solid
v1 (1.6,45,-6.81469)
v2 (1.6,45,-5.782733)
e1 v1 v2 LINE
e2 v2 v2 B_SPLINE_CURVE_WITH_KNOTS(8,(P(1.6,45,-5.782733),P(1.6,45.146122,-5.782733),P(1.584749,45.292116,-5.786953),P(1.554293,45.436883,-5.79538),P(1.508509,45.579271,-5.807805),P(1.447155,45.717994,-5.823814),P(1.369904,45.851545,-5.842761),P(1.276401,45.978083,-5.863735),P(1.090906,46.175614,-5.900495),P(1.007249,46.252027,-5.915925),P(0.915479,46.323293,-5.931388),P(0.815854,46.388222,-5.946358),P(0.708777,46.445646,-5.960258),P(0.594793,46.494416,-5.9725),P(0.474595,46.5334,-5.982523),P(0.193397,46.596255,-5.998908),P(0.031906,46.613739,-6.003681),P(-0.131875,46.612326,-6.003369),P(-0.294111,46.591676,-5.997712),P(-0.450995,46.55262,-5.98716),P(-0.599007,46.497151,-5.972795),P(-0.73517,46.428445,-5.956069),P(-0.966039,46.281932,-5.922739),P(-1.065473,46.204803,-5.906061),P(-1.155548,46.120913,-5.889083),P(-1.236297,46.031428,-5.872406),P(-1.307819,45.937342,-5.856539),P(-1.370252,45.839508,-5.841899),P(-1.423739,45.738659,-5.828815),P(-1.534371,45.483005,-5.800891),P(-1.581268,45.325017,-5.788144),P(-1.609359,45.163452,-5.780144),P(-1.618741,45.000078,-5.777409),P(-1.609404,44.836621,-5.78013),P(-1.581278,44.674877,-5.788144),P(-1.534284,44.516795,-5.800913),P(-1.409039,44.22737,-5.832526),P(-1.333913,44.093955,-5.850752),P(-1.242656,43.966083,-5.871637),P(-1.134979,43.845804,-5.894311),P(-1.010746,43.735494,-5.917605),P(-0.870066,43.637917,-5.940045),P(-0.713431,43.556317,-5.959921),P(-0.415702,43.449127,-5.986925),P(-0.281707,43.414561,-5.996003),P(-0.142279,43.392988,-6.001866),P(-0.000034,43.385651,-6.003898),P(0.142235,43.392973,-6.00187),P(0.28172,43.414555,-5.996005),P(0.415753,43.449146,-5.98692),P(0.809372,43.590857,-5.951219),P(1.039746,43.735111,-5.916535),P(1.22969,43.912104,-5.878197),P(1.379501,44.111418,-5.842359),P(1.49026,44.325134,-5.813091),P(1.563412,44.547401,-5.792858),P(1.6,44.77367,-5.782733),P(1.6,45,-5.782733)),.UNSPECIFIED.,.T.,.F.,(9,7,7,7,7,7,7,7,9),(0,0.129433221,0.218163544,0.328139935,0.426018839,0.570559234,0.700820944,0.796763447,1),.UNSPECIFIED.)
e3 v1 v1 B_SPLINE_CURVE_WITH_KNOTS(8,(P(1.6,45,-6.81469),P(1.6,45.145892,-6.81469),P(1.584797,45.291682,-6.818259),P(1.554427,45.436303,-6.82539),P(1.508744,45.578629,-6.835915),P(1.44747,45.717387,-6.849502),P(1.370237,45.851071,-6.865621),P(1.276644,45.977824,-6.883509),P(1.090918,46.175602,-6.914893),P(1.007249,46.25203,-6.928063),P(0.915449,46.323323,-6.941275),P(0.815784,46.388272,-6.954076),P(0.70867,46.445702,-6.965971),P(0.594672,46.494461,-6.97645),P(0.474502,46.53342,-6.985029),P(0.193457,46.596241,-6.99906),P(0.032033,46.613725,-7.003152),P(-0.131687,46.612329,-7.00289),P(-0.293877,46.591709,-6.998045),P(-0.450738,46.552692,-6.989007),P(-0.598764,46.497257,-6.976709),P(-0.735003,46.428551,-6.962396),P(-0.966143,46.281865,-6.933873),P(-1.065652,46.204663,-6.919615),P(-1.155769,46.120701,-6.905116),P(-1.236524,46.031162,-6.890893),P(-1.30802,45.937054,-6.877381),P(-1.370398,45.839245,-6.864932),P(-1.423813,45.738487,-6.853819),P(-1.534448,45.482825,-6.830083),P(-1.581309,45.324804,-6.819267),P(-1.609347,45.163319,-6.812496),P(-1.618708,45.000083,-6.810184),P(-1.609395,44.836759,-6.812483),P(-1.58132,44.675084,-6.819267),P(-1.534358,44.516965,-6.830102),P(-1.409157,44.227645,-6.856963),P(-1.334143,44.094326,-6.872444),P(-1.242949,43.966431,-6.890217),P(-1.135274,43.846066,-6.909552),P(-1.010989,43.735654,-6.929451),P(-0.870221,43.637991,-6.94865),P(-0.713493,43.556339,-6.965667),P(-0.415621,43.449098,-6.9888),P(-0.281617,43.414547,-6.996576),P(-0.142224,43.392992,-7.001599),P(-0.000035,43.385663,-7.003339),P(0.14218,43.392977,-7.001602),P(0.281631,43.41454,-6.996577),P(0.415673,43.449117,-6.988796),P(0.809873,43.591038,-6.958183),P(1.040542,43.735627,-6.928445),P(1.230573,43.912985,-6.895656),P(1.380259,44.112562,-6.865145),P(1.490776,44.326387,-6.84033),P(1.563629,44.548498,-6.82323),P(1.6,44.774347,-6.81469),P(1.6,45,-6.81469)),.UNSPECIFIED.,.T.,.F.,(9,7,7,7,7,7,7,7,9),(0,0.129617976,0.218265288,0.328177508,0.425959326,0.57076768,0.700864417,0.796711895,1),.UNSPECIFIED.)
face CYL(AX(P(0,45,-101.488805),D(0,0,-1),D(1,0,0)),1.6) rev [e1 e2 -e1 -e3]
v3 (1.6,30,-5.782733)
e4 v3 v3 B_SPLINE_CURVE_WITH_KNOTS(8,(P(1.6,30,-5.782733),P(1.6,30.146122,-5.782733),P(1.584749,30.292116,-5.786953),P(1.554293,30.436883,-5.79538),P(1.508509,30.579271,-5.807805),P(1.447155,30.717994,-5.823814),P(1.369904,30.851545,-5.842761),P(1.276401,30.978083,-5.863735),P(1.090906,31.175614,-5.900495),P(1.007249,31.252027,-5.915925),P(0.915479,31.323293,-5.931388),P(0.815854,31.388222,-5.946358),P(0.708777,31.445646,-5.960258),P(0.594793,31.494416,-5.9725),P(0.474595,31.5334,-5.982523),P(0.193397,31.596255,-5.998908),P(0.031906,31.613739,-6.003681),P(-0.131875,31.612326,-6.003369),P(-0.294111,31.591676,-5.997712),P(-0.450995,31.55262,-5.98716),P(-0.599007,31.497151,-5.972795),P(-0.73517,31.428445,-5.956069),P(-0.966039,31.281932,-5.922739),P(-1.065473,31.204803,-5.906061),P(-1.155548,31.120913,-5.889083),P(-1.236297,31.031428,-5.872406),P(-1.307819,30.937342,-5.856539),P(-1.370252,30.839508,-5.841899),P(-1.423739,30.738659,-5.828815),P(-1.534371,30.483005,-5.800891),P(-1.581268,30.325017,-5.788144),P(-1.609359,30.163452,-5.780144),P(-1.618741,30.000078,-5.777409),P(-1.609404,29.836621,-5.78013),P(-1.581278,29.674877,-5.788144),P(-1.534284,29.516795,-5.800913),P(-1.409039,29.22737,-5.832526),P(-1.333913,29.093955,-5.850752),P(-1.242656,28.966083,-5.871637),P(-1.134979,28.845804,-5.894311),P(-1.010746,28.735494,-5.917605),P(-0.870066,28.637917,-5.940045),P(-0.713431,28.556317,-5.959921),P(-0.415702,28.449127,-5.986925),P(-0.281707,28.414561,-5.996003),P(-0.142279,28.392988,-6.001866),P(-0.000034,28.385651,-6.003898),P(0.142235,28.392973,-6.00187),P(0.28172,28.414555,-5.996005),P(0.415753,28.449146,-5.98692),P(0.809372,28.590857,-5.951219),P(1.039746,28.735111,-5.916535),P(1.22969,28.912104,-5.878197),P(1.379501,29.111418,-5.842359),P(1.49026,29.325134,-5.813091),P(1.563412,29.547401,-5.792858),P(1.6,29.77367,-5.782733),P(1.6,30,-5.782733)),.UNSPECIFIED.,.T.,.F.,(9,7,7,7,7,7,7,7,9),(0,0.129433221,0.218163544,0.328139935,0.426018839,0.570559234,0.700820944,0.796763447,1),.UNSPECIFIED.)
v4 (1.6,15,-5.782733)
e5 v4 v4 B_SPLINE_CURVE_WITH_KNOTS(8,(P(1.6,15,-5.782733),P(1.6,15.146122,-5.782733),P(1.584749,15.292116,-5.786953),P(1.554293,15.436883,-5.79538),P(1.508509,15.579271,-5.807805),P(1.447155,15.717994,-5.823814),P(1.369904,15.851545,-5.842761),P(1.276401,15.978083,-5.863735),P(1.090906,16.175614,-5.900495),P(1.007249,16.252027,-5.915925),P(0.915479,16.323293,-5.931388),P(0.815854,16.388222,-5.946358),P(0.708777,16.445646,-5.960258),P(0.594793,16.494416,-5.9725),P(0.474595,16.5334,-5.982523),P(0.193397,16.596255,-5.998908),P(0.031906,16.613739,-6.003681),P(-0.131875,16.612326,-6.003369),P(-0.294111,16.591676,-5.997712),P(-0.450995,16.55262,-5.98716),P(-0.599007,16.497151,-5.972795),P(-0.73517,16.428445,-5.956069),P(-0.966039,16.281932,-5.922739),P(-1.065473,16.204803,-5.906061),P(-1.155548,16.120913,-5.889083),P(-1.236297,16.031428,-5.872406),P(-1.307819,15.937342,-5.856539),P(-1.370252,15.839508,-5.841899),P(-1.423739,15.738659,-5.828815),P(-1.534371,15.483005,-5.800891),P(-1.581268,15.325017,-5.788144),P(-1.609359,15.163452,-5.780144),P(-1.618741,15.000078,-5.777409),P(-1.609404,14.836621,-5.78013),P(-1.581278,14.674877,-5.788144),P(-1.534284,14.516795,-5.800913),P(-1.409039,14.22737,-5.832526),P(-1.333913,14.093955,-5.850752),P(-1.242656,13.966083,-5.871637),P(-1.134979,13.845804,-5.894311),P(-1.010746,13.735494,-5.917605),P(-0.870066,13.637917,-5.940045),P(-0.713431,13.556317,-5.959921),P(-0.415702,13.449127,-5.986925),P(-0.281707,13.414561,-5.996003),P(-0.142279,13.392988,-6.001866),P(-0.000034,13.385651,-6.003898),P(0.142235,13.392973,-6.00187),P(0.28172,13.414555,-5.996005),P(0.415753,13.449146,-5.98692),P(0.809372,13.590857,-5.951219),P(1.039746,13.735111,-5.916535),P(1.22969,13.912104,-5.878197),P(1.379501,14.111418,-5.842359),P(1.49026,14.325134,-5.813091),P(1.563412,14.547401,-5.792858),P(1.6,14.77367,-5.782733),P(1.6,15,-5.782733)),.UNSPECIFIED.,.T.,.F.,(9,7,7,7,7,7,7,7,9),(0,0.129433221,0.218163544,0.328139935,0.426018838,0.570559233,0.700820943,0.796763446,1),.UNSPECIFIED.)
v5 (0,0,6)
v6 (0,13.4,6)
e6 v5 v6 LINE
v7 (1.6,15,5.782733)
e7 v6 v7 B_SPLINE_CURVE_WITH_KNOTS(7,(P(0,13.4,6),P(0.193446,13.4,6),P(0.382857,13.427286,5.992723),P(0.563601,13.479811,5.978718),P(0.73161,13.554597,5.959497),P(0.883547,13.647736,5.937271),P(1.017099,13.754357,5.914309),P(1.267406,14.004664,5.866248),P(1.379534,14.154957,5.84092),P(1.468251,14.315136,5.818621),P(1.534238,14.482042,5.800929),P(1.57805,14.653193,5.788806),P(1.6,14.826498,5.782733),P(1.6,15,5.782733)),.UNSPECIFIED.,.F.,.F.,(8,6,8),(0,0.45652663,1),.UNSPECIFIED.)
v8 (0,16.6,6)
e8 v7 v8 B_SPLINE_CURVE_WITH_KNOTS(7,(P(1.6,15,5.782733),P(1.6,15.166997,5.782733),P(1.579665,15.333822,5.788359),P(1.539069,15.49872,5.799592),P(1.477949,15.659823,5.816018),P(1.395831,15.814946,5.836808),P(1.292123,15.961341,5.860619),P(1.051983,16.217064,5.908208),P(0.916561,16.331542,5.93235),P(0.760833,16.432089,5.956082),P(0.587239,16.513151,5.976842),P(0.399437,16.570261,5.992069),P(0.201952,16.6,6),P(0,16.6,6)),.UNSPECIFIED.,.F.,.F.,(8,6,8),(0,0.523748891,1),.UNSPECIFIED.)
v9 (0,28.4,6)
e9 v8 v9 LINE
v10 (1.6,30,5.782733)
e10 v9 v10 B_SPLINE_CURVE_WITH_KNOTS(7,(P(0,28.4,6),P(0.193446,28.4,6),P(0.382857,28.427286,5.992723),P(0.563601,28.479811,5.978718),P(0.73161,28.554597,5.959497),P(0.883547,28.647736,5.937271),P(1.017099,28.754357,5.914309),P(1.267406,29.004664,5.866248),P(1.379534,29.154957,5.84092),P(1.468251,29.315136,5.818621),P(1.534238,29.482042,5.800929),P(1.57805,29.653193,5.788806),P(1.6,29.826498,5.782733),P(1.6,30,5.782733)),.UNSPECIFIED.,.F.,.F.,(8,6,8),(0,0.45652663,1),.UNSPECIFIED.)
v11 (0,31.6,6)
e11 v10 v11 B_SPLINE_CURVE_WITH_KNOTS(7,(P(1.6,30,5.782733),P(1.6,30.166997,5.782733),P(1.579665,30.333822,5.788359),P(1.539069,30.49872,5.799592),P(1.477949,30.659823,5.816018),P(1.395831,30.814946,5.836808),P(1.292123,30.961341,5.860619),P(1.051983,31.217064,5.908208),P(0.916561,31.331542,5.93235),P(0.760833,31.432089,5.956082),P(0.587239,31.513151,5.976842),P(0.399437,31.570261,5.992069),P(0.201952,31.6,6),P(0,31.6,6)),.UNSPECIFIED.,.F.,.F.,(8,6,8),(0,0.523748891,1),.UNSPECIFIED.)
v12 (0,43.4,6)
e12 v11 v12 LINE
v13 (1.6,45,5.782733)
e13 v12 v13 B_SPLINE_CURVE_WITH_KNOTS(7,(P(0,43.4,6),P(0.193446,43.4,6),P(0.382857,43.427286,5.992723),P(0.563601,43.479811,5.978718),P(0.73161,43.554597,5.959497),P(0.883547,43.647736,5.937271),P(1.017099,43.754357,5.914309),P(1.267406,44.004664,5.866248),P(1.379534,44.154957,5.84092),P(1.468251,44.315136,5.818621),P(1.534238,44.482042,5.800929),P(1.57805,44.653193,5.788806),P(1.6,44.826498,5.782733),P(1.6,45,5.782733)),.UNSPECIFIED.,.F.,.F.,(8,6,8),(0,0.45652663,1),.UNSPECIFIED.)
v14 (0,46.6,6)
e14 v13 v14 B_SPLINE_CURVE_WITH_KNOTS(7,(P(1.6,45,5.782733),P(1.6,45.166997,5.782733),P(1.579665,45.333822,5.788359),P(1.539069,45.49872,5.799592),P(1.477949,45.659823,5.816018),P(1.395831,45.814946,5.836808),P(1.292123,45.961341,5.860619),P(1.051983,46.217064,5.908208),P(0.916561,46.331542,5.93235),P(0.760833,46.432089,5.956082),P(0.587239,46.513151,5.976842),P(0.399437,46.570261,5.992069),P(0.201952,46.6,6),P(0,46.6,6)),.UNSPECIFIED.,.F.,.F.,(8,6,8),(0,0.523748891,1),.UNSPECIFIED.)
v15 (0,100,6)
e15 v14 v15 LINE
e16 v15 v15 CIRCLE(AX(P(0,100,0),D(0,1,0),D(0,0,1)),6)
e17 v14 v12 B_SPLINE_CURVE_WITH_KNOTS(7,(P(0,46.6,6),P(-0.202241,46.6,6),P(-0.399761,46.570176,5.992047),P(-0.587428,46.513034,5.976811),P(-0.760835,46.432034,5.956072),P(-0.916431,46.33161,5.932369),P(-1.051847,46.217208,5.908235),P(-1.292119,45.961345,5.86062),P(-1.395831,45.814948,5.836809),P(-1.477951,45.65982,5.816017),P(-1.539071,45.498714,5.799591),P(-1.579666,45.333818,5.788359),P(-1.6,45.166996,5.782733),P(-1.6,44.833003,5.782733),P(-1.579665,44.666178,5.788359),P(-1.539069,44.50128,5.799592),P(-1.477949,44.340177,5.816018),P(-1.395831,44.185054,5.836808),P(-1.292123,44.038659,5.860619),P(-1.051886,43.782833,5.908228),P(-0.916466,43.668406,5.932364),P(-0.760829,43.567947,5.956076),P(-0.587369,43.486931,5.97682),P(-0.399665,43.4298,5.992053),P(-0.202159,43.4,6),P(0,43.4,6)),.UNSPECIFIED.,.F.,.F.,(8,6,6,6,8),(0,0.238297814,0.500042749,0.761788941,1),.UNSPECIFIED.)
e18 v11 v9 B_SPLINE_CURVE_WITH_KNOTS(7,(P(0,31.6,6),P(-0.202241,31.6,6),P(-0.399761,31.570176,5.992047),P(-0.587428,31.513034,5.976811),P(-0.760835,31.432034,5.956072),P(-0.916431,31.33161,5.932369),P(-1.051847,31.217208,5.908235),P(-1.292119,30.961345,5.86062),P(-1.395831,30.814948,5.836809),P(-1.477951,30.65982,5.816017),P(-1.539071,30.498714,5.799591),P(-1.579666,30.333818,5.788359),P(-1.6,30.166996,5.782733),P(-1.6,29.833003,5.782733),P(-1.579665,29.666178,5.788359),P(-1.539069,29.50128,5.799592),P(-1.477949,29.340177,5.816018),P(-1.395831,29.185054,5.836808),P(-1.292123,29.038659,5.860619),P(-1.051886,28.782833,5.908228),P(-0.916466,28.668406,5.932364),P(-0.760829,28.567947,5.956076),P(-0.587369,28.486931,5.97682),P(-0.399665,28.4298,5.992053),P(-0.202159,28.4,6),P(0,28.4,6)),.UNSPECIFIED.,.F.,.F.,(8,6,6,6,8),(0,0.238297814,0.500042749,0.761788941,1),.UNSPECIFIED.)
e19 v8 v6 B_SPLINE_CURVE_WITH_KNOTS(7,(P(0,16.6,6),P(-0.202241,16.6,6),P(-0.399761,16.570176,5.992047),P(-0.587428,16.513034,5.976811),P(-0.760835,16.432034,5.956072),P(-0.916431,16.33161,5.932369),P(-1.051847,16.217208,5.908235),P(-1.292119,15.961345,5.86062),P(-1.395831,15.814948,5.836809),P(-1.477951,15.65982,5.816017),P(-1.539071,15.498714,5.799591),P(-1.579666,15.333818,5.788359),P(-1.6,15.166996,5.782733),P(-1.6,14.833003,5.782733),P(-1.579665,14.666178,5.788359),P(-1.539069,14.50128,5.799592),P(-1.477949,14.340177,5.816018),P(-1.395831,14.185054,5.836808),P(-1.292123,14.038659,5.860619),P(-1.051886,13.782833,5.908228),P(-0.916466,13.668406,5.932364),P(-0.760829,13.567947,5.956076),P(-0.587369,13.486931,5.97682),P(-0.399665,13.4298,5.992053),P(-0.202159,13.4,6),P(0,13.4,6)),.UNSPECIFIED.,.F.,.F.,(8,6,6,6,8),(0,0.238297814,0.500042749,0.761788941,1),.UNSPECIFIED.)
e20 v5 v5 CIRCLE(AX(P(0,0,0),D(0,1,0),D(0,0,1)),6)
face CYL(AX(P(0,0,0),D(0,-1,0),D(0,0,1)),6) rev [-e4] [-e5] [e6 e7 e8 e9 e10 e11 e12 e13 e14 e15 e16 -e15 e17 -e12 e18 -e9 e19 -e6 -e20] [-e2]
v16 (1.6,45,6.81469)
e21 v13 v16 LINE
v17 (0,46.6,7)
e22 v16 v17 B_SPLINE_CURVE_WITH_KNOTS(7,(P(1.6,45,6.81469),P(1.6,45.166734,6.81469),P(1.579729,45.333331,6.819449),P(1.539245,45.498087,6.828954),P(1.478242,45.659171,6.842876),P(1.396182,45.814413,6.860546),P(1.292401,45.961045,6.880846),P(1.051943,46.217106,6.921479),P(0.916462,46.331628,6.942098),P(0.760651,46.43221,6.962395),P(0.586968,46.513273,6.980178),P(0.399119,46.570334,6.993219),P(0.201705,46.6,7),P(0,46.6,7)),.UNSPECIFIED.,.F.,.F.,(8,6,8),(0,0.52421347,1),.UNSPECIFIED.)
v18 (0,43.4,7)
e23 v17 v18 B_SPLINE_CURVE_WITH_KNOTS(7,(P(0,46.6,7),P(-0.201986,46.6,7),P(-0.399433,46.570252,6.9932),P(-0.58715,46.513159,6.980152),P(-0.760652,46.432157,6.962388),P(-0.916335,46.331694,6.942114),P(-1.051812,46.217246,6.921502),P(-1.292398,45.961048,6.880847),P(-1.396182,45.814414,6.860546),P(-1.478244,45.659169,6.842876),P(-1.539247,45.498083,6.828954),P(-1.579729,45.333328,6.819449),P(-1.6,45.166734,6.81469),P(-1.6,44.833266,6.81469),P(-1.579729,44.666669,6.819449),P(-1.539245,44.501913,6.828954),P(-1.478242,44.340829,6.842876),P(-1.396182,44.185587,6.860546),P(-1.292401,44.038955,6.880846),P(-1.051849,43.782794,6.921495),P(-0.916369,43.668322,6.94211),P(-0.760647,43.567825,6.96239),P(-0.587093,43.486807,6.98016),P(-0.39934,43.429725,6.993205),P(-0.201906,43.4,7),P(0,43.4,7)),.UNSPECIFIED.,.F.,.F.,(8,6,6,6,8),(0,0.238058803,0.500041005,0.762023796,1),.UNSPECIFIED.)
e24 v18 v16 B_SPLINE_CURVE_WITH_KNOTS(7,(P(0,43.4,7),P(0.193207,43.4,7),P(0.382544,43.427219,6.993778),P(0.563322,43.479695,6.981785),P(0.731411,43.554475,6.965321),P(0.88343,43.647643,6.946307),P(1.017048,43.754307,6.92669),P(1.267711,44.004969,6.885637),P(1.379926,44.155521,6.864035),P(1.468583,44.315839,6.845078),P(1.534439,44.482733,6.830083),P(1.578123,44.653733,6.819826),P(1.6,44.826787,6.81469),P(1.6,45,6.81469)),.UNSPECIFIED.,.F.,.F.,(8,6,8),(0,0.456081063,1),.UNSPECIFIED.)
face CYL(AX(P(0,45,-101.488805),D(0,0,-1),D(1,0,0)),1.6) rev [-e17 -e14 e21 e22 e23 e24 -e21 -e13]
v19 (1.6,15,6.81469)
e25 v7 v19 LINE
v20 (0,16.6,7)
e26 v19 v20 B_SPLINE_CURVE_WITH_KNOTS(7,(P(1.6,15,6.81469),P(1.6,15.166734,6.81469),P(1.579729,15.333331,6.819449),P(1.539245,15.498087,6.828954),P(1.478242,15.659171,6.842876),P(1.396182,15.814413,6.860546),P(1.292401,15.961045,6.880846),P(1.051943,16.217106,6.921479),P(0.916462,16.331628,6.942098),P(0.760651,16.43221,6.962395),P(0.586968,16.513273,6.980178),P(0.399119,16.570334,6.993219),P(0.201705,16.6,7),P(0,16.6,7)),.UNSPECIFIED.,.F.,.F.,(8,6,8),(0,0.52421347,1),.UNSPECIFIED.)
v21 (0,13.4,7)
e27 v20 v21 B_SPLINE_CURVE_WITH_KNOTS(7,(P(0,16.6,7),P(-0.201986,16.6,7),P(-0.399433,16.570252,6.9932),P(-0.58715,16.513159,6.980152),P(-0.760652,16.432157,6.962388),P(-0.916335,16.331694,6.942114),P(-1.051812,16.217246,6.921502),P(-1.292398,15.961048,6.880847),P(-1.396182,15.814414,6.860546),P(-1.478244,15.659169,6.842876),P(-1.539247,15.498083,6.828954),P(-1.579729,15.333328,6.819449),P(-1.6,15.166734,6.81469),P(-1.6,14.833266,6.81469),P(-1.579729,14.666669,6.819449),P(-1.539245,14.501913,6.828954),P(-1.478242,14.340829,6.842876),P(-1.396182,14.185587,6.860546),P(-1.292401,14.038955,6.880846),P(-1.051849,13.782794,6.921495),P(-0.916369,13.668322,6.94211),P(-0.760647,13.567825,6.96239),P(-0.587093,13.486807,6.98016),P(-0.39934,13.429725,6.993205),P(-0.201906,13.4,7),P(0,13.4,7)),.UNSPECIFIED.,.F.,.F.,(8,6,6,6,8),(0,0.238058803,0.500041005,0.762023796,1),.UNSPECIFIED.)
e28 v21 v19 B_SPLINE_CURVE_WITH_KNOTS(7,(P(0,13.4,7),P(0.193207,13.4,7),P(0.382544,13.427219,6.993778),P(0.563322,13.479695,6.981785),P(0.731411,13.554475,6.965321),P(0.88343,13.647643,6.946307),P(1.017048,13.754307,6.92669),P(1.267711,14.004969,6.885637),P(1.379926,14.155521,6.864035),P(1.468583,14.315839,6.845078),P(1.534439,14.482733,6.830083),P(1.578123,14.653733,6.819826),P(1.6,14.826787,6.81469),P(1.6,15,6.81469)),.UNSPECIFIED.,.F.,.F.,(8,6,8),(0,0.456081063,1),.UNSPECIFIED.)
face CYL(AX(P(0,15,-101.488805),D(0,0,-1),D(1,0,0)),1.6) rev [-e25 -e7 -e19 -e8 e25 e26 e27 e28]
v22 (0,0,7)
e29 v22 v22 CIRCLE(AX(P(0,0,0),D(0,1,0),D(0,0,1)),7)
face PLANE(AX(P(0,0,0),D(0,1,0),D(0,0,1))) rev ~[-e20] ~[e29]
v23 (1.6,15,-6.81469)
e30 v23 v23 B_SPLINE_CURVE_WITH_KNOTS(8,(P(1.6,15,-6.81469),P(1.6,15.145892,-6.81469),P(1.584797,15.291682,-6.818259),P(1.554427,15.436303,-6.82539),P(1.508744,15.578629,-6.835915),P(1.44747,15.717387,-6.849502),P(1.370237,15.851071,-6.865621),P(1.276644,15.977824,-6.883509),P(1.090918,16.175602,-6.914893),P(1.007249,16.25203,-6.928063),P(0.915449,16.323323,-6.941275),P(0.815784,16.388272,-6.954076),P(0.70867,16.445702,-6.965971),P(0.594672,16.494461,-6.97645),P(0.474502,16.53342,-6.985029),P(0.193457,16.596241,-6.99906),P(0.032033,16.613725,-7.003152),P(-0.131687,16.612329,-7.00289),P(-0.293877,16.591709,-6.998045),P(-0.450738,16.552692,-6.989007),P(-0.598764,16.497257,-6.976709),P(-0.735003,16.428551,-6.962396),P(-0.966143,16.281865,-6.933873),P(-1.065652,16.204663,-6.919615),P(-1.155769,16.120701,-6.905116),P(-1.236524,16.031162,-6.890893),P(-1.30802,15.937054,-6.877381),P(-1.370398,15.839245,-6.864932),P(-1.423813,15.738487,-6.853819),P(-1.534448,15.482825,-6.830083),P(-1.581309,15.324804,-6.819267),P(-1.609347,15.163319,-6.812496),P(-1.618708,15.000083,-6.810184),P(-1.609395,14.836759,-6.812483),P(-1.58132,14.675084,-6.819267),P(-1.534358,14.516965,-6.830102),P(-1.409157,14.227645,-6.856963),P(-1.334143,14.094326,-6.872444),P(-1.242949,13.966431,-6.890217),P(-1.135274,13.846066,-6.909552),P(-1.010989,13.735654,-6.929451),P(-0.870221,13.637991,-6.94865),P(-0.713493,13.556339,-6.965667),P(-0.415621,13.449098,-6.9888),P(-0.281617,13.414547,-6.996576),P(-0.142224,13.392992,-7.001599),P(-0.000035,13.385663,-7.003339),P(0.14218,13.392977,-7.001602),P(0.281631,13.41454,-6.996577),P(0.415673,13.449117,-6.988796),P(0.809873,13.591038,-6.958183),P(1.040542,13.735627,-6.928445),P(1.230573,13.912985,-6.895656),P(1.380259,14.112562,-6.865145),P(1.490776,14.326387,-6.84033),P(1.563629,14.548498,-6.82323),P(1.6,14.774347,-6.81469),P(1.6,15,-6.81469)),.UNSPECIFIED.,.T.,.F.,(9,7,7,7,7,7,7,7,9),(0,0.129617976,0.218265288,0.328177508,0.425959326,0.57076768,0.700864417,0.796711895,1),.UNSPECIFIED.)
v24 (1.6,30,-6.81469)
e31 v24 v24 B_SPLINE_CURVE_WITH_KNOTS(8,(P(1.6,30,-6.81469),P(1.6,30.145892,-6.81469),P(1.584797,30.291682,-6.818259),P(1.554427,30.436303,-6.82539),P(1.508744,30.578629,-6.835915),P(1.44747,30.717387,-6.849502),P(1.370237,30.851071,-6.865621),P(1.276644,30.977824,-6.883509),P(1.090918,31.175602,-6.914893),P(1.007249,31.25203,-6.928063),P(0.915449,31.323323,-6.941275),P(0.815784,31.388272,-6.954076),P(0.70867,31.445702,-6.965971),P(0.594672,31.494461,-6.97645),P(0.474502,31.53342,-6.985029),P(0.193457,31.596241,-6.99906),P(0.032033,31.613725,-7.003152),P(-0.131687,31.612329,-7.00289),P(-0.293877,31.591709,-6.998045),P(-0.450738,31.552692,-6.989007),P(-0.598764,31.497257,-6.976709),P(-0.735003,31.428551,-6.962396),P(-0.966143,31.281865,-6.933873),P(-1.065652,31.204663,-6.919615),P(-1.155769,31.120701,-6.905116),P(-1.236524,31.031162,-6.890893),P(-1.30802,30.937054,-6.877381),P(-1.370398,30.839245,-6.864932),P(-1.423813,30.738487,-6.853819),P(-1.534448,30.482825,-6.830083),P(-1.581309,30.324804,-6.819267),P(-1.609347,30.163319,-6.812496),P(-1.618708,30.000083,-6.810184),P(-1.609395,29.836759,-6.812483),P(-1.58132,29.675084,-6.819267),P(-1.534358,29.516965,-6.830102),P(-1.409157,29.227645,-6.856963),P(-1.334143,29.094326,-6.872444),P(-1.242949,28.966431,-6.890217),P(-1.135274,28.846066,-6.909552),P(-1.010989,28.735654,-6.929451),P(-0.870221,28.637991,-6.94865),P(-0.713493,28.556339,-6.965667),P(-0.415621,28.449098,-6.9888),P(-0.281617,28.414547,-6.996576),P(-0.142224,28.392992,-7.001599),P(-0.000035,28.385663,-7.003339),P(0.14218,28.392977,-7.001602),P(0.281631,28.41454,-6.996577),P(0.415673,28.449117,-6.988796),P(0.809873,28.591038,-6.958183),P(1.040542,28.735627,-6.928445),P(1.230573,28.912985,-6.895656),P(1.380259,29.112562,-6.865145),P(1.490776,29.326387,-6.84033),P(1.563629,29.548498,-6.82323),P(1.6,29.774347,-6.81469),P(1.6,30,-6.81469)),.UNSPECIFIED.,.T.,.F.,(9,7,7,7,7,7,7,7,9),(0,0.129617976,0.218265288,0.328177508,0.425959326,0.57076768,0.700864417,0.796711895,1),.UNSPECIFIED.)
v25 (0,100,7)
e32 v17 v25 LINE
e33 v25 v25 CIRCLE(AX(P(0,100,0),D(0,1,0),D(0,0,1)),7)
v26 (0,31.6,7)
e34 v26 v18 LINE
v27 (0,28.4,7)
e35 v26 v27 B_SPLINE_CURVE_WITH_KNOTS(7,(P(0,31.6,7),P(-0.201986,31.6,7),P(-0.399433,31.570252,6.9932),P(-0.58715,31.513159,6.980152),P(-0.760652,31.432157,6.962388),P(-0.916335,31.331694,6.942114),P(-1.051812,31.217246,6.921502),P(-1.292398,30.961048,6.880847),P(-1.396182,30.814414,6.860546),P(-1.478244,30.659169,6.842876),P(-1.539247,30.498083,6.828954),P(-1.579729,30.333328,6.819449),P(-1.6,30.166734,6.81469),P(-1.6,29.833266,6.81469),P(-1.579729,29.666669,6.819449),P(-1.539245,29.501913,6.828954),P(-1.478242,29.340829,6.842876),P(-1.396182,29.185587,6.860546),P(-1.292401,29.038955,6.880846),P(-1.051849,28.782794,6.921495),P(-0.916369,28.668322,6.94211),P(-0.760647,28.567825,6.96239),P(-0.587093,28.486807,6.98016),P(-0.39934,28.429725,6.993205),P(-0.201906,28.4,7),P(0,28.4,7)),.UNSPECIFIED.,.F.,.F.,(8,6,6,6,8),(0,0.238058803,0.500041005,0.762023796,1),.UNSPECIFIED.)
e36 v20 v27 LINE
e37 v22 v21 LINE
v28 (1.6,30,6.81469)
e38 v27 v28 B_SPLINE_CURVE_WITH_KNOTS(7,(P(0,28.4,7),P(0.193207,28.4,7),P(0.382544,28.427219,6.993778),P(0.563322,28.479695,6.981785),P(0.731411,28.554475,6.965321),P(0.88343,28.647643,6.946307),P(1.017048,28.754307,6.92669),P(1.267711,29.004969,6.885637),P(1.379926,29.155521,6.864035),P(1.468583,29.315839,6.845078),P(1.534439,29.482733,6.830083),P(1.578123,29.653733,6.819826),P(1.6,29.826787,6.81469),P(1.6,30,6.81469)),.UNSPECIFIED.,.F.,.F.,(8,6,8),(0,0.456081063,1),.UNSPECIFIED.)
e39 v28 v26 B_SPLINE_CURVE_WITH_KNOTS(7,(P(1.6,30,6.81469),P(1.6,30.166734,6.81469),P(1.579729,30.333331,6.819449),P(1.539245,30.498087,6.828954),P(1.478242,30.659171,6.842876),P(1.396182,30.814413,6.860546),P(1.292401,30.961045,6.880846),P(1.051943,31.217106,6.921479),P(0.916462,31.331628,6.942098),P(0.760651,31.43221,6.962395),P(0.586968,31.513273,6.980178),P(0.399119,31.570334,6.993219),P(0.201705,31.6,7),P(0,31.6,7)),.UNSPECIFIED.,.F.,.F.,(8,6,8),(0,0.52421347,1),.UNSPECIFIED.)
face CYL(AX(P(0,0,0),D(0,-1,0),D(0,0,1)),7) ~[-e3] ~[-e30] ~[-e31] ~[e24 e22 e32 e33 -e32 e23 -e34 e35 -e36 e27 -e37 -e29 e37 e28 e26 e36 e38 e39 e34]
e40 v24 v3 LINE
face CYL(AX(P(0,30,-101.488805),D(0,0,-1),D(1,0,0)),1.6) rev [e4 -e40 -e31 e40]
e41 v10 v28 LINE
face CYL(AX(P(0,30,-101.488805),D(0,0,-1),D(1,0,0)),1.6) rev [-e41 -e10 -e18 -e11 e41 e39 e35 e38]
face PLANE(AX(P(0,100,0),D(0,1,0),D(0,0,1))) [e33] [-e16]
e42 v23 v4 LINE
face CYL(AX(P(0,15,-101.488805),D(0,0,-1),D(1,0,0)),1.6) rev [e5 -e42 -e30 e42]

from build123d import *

# Parameters (mm, degrees)
SKETCH_1_R               = 7
SKETCH_1_R_2             = 6
EXTRUDE_1_DEPTH          = 100
CUT_EXTRUDE_1_DEPTH      = 101.488805347
CUT_EXTRUDE_1_DEPTH_BACK = 101.488805347
SKETCH_2_R               = 1.6


with BuildPart() as part:
    # 草图1 → 凸台-拉伸1 (new body)
    with BuildSketch(Plane(origin=(0, 0, 0), x_dir=(1, 0, 0), z_dir=(0, 1, 0))):
        with Locations(Location((0, 0, 0), (0, 0, 270))):
            Circle(SKETCH_1_R)
        with Locations(Location((0, 0, 0), (0, 0, 270))):
            Circle(SKETCH_1_R_2, mode=Mode.SUBTRACT)
    extrude(amount=EXTRUDE_1_DEPTH)

    # 草图2 → 切除-拉伸1 (cut, two sides: drawn at the far end of the back side and taken through both)
    with BuildSketch(Plane.XY.offset(-CUT_EXTRUDE_1_DEPTH_BACK)):
        with Locations((0, 15)):
            Circle(SKETCH_2_R)
        with Locations((0, 30)):
            Circle(SKETCH_2_R)
        with Locations((0, 45)):
            Circle(SKETCH_2_R)
    extrude(amount=CUT_EXTRUDE_1_DEPTH + CUT_EXTRUDE_1_DEPTH_BACK, mode=Mode.SUBTRACT)


solid = part.part
